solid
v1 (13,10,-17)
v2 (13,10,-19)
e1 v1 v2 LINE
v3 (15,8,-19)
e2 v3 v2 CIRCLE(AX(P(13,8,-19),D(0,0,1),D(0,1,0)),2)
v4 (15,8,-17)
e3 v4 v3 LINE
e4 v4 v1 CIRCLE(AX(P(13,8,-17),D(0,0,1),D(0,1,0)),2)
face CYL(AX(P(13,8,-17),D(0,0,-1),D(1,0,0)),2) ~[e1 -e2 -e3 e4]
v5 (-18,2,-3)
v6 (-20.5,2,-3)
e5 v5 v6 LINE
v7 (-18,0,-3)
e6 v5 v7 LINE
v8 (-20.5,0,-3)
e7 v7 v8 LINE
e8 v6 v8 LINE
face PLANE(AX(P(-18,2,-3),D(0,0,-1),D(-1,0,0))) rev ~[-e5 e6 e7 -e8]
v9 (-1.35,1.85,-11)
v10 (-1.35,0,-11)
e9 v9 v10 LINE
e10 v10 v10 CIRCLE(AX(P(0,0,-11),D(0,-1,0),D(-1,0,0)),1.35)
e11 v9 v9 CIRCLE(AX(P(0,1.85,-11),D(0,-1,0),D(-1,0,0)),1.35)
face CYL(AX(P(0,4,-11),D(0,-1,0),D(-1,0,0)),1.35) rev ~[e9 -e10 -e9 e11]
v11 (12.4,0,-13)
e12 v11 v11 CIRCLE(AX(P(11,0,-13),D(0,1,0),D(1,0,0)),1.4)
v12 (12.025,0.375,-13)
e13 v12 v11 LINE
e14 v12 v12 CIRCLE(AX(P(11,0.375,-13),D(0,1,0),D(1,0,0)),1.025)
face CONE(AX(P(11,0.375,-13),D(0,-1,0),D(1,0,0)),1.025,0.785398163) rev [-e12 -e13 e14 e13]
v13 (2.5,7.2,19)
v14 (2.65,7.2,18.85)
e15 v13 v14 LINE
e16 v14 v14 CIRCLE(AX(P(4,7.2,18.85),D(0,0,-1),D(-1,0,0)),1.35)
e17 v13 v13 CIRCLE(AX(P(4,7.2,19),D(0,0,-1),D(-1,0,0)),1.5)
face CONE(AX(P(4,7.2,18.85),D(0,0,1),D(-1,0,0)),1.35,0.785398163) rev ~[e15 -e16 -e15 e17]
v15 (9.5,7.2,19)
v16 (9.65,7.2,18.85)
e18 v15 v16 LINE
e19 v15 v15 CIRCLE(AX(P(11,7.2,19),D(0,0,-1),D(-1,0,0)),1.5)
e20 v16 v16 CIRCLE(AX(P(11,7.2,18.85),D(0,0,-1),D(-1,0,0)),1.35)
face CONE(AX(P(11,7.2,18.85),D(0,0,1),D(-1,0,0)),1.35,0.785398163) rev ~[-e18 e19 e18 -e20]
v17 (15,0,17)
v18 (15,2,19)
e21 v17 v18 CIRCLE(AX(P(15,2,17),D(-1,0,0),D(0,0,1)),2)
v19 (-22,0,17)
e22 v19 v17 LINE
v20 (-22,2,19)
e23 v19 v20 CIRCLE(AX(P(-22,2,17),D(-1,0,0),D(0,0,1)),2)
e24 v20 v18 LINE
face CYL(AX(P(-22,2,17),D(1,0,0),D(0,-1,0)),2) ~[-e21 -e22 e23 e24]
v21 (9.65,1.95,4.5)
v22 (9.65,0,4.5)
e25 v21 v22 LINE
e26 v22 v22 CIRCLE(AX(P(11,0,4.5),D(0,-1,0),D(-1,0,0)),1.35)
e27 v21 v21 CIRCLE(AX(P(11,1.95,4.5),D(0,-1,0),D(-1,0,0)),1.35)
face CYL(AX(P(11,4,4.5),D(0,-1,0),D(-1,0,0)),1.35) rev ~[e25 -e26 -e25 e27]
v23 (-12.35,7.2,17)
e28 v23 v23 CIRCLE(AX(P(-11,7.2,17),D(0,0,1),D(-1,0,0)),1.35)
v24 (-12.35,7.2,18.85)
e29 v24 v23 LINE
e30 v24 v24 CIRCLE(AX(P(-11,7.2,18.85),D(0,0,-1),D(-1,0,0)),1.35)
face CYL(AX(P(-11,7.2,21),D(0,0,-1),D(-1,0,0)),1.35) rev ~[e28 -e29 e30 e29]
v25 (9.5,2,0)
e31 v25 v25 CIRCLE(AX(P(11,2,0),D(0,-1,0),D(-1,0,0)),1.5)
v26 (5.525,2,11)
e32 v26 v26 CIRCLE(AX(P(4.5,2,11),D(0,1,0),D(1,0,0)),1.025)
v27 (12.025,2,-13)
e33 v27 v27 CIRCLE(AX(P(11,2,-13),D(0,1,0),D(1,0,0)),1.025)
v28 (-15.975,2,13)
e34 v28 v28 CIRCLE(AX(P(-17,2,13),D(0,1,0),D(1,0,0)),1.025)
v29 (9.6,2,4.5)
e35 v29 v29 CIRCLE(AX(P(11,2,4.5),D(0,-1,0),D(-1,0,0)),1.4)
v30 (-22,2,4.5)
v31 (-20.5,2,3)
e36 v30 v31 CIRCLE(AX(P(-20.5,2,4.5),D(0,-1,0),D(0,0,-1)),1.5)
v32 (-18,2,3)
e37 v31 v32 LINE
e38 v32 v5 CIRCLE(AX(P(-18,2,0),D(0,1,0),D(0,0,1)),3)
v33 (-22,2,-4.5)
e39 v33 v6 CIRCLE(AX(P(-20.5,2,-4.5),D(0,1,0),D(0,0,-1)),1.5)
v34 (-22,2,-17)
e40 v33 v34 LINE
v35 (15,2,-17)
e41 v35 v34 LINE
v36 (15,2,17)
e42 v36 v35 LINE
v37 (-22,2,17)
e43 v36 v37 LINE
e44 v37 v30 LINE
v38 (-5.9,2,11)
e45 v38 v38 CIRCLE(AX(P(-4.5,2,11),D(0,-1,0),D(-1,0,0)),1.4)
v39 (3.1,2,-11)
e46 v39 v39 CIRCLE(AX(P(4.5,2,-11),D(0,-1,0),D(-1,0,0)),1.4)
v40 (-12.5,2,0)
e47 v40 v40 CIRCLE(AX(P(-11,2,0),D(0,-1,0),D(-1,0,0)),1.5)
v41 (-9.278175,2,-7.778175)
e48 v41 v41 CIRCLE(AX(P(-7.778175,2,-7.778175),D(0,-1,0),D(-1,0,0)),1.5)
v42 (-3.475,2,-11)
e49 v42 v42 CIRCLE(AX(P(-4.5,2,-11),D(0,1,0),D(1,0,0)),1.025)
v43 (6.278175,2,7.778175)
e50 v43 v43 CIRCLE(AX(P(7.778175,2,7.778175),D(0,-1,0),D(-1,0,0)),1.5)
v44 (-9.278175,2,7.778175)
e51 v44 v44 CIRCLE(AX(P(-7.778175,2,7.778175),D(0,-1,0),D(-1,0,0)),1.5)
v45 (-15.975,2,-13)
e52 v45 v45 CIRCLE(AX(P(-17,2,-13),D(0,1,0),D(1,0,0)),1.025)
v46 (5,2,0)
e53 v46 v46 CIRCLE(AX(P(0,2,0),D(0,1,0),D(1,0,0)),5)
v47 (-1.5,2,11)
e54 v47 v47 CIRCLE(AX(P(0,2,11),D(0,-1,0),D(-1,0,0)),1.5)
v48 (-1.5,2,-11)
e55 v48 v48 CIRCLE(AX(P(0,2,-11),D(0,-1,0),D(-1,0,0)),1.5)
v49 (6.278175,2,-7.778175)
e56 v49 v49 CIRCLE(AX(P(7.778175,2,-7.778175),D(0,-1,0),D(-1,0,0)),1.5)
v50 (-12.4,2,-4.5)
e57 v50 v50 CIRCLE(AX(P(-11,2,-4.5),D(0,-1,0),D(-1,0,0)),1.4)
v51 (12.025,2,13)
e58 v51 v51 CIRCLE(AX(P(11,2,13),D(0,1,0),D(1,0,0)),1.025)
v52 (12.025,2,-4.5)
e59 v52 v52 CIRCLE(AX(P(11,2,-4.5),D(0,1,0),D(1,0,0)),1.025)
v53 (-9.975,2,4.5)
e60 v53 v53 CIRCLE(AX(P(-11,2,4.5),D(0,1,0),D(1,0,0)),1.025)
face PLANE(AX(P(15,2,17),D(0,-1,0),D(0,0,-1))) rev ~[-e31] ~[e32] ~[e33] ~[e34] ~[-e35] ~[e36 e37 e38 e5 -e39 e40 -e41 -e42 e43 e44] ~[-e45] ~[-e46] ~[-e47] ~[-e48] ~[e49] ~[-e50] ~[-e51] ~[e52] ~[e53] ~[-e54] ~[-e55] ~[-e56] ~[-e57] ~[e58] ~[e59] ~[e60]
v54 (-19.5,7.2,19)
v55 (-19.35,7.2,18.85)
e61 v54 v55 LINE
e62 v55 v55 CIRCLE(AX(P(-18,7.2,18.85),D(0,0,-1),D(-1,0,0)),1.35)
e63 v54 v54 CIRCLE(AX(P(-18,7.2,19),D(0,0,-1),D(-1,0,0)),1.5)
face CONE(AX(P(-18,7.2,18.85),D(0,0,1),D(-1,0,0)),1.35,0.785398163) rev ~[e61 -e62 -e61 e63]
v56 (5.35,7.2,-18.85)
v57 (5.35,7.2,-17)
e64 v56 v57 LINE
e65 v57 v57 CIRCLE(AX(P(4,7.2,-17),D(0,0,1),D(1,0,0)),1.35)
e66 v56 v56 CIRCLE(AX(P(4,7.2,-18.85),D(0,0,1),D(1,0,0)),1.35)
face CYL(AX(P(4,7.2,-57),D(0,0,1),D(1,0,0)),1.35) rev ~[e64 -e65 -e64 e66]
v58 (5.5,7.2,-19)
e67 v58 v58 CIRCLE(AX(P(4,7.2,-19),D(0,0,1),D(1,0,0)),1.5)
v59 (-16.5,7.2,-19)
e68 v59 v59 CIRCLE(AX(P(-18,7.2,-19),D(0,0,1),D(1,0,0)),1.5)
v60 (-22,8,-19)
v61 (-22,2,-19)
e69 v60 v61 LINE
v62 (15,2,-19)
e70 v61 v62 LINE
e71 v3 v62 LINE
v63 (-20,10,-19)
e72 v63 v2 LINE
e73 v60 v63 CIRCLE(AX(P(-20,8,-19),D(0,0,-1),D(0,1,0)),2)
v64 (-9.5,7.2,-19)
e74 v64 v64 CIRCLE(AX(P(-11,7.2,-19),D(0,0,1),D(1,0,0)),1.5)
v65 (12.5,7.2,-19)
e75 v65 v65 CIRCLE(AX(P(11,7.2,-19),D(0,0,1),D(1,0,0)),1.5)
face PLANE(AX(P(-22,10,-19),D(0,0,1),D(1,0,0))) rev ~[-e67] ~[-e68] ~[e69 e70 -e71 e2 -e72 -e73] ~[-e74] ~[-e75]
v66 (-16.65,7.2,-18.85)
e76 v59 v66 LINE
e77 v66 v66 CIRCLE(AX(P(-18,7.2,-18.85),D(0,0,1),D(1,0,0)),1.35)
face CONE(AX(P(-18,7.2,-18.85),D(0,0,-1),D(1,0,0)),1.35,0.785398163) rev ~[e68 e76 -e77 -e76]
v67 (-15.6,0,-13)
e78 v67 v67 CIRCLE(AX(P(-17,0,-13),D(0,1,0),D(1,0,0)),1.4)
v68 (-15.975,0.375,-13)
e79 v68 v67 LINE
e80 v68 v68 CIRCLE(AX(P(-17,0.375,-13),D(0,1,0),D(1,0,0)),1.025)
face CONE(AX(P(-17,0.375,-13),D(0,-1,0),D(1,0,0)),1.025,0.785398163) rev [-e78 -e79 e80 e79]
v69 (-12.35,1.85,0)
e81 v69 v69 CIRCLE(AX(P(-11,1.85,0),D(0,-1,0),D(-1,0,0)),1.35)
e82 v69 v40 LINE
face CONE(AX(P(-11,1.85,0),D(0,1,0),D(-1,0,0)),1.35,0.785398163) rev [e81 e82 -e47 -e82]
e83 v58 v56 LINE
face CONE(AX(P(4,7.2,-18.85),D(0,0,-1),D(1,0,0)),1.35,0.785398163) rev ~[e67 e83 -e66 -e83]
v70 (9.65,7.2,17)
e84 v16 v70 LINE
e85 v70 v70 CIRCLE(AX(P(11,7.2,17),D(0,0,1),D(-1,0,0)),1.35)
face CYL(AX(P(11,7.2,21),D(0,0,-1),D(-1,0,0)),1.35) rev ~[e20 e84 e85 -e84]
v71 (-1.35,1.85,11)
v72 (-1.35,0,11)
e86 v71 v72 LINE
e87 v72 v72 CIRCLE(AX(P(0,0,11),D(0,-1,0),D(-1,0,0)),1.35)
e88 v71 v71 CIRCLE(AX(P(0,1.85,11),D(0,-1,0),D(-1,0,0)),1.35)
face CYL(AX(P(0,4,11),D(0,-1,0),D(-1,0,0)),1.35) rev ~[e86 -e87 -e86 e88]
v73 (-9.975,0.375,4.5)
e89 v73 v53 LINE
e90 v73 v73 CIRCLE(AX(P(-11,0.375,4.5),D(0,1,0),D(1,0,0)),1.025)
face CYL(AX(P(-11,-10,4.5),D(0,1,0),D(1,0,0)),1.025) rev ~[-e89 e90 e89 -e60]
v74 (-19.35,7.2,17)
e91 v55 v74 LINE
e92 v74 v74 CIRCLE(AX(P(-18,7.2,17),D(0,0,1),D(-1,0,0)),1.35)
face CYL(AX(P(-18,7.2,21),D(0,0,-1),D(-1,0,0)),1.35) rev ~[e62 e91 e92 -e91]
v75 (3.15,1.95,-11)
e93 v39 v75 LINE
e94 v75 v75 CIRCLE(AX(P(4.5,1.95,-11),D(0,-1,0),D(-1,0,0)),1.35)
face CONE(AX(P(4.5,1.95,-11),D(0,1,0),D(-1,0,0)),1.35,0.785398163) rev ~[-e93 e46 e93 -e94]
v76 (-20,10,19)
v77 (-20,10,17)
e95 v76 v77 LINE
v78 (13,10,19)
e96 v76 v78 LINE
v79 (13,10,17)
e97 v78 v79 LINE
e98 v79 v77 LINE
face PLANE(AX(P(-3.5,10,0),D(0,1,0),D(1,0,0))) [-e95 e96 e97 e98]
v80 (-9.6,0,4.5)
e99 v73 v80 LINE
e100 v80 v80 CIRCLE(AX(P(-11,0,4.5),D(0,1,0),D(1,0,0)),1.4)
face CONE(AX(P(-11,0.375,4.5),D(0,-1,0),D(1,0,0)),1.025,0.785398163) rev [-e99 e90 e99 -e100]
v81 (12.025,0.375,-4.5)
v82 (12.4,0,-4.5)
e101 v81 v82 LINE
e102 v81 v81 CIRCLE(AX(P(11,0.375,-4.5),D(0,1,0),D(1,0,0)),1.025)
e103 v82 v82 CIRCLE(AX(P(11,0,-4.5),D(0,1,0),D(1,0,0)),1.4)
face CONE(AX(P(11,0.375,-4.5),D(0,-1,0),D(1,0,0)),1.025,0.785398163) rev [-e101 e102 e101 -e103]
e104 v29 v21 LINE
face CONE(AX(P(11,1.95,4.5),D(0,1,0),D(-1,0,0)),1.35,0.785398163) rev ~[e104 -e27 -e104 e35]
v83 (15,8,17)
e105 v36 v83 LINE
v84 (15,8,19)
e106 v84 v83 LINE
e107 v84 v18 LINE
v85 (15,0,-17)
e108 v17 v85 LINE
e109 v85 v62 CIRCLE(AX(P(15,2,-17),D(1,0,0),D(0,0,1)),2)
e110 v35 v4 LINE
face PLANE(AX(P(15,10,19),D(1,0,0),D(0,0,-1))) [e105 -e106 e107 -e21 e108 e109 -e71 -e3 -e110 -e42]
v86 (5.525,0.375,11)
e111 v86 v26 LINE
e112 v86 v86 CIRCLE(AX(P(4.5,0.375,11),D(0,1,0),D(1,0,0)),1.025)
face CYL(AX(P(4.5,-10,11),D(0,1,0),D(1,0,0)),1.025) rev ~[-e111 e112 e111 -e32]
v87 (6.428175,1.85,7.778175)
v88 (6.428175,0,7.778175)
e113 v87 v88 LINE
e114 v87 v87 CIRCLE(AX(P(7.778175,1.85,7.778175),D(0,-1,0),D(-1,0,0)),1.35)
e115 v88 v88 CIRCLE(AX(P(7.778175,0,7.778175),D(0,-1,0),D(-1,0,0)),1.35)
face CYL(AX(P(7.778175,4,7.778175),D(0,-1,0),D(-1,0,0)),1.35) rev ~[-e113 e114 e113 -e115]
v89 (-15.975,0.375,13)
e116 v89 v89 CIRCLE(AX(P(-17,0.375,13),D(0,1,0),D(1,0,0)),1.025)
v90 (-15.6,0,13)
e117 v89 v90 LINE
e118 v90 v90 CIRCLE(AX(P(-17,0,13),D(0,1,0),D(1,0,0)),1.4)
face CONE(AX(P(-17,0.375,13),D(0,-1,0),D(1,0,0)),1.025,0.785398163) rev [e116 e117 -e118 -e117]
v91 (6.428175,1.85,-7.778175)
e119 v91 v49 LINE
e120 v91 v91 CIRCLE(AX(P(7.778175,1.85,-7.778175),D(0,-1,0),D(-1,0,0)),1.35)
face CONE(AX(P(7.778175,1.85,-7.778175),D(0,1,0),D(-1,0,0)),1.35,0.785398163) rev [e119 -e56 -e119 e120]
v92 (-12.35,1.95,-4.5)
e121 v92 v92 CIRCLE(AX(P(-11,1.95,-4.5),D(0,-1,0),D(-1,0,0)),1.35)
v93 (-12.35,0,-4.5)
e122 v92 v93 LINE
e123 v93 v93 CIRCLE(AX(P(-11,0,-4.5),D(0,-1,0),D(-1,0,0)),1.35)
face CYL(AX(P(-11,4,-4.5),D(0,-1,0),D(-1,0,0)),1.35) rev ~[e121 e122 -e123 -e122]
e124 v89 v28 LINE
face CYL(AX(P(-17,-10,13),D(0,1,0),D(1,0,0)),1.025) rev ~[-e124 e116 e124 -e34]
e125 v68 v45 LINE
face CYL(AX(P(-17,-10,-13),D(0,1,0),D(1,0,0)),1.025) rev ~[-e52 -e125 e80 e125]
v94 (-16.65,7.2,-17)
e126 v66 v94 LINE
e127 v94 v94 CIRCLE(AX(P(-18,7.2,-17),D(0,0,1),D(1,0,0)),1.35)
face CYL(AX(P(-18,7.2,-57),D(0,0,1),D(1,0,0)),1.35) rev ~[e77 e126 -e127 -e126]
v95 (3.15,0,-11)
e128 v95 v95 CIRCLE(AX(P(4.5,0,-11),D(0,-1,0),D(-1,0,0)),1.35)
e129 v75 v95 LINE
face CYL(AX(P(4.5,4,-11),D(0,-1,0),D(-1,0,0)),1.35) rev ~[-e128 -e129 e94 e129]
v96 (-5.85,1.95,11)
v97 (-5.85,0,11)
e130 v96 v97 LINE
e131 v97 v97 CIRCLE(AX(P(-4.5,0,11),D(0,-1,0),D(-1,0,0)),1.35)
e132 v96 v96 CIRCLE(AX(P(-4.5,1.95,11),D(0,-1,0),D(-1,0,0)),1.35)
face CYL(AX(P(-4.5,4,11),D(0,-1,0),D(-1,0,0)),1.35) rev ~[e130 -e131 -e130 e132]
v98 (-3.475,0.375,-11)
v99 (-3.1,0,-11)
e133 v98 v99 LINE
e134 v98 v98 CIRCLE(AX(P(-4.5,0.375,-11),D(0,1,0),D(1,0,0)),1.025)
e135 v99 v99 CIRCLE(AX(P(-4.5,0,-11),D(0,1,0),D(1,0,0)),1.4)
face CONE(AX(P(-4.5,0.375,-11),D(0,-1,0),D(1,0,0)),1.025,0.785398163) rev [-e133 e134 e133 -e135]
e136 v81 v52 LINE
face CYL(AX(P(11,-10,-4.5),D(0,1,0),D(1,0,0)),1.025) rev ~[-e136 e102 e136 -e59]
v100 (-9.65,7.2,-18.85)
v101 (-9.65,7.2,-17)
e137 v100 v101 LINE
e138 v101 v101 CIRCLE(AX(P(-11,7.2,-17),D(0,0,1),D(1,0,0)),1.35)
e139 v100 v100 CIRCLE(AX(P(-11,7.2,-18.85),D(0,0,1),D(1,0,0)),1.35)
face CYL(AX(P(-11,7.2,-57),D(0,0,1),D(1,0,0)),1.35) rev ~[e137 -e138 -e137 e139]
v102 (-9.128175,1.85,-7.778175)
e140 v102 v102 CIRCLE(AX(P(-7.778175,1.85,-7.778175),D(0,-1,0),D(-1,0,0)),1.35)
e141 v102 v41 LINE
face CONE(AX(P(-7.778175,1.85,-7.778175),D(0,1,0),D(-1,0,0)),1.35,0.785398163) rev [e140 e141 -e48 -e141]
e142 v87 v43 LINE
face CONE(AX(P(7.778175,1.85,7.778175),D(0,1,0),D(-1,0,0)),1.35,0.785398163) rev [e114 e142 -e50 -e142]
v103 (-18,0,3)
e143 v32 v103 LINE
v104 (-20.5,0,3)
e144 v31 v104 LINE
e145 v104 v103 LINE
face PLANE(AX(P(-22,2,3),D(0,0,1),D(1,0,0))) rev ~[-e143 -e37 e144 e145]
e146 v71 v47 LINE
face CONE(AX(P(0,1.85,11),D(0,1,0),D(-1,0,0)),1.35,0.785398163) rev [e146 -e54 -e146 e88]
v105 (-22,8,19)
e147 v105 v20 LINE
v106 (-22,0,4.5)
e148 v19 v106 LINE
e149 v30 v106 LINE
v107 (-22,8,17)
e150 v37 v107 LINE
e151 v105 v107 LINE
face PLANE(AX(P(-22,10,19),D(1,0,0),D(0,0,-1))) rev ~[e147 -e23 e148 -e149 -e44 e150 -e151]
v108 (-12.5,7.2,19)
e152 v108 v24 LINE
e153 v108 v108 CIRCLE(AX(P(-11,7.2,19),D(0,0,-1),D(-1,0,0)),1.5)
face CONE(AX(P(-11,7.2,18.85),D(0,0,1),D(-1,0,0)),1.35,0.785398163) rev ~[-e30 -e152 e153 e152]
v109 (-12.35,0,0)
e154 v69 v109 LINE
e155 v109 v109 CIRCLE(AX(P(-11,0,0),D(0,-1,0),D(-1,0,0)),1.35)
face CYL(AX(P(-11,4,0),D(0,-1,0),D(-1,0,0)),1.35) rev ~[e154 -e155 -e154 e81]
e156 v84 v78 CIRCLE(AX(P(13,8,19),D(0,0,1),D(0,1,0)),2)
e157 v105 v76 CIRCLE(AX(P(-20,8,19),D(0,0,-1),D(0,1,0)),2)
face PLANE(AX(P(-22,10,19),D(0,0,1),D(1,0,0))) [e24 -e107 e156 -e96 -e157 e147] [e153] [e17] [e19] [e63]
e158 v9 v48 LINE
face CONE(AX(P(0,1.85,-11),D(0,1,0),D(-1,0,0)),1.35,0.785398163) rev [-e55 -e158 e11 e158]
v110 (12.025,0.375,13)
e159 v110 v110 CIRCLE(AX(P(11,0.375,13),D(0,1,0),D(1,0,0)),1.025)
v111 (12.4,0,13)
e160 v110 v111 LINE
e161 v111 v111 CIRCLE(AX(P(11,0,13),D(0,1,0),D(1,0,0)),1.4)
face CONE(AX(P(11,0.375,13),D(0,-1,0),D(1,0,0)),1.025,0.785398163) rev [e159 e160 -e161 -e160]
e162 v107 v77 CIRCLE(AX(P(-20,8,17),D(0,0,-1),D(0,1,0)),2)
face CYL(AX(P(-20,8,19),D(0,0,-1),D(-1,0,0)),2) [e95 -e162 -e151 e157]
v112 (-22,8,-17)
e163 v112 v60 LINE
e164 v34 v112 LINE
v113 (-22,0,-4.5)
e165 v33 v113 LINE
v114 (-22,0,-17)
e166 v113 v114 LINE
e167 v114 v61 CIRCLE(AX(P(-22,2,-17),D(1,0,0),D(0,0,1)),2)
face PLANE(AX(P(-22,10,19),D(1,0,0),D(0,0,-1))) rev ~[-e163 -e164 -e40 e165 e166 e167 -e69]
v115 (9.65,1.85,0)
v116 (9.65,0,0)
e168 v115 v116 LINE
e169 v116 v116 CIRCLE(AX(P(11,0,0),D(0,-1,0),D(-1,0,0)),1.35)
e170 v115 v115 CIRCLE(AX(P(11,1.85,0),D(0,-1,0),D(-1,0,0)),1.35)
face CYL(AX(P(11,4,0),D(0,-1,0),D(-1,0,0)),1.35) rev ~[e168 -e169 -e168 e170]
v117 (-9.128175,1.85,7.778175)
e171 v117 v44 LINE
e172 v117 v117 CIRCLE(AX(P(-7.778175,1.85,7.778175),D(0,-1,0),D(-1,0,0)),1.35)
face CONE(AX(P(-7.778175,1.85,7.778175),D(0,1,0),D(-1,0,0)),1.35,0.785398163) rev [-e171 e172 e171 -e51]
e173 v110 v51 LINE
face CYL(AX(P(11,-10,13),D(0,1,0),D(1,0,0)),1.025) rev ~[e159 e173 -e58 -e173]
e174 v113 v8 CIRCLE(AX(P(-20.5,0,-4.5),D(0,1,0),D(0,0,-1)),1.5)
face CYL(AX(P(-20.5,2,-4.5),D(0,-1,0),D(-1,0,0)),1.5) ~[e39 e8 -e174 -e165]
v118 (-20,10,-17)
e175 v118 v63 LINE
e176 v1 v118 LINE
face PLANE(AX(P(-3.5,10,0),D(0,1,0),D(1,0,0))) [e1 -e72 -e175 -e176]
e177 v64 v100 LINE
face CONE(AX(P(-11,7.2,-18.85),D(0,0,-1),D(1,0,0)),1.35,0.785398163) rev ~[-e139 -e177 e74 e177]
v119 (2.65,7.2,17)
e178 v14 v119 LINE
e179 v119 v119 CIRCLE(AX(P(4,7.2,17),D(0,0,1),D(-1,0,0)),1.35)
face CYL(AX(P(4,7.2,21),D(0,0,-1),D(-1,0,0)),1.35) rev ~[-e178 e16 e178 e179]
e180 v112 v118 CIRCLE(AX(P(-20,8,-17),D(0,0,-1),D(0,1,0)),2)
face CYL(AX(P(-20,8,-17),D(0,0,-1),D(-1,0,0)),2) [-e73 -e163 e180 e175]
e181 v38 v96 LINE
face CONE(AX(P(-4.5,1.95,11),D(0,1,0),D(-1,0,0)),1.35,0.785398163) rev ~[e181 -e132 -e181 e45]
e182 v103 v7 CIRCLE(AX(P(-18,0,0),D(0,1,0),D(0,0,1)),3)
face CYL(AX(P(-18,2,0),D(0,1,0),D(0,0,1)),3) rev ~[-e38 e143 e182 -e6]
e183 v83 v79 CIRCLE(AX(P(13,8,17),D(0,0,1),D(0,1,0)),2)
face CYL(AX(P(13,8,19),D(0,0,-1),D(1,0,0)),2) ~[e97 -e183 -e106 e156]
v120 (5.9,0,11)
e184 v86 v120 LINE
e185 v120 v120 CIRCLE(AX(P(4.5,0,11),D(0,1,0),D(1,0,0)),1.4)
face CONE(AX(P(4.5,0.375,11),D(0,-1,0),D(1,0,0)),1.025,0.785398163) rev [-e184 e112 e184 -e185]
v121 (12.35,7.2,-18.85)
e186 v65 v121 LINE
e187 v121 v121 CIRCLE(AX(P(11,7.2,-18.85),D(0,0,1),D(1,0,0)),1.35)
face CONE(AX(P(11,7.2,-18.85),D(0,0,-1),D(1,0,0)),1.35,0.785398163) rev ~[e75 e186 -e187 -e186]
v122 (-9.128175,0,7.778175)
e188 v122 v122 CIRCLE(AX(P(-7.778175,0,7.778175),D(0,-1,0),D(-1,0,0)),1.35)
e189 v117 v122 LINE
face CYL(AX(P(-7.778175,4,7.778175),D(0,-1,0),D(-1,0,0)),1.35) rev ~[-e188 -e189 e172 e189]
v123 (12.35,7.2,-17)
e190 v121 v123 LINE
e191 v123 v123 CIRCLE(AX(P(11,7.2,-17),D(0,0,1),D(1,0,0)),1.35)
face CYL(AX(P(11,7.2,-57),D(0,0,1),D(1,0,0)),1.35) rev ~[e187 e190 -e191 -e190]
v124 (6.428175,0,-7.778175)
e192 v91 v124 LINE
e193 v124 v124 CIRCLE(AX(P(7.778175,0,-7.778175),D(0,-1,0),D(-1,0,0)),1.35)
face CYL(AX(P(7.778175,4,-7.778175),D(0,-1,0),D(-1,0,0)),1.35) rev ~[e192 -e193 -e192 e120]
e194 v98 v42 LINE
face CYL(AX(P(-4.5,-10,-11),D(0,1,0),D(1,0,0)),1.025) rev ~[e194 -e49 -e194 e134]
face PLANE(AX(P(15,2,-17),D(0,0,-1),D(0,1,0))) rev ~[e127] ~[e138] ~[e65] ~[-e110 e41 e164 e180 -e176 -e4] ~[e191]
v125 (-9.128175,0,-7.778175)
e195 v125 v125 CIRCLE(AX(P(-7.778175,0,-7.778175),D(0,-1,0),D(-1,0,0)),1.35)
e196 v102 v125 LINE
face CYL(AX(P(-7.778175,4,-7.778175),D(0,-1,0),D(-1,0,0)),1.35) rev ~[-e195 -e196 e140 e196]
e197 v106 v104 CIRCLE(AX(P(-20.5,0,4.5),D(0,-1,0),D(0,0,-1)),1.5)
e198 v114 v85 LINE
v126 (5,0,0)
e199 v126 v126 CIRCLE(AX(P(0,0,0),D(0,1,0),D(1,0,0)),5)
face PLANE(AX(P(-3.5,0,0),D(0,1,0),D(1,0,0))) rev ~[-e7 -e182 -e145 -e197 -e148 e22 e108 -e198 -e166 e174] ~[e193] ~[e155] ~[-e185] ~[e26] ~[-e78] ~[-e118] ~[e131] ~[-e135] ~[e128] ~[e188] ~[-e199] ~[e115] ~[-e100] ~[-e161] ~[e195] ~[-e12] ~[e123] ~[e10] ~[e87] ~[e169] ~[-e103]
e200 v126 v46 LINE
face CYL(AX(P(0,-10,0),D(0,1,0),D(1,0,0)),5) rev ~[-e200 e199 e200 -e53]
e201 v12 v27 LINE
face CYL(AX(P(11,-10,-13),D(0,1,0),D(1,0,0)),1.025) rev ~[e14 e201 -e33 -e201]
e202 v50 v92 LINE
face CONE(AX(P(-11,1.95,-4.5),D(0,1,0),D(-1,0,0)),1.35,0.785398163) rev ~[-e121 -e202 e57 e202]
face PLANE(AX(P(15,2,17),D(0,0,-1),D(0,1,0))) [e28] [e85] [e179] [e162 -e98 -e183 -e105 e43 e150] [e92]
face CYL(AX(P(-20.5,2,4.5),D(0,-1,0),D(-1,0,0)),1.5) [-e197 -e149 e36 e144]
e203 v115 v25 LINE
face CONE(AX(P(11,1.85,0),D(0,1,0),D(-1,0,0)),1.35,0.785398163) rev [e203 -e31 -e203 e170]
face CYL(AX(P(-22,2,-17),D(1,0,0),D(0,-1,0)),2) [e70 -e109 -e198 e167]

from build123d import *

# Parameters (mm, degrees)
SKETCH1_W                        = 37
SKETCH1_H                        = 38
BOSS_EXTRUDE1_DEPTH              = 10
SKETCH2_W                        = 34
SKETCH2_H                        = 8
CUT_EXTRUDE1_DEPTH               = 38
CUT_EXTRUDE2_DEPTH               = 3
F_2_05_2_05_DIAMETER_HOLE1_D     = 2.05
F_2_05_2_05_DIAMETER_HOLE1_DEPTH = 10
F_10_0_10_DIAMETER_HOLE1_D       = 10
F_10_0_10_DIAMETER_HOLE1_DEPTH   = 10
F_2_7_2_7_DIAMETER_HOLE1_D       = 2.7
F_2_7_2_7_DIAMETER_HOLE1_DEPTH   = 2
F_2_7_2_7_DIAMETER_HOLE2_D       = 2.7
F_2_7_2_7_DIAMETER_HOLE2_DEPTH   = 2
F_2_7_2_7_DIAMETER_HOLE3_D       = 2.7
F_2_7_2_7_DIAMETER_HOLE3_DEPTH   = 38
CHAMFER1_SIZE                    = 0.15
CHAMFER2_SIZE                    = 0.05
CHAMFER3_SIZE                    = 0.375
FILLET1_R                        = 1.5
FILLET2_R                        = 2


with BuildPart() as part:
    # Sketch1 → Boss-Extrude1 (new body)
    with BuildSketch(Plane(origin=(0, 10, 0), x_dir=(1, 0, 0), z_dir=(0, 1, 0))):
        with Locations((-3.5, 0)):
            Rectangle(SKETCH1_W, SKETCH1_H)
    extrude(amount=-BOSS_EXTRUDE1_DEPTH)

    # Sketch2 → Cut-Extrude1 (cut, through all)
    with BuildSketch(Plane(origin=(15, 0, 0), x_dir=(0, 0, -1), z_dir=(1, 0, 0))):
        with Locations((0, 6)):
            Rectangle(SKETCH2_W, SKETCH2_H)
    extrude(amount=-CUT_EXTRUDE1_DEPTH, mode=Mode.SUBTRACT)

    # Sketch3 → Cut-Extrude2 (cut, through all)
    with BuildSketch(Plane(origin=(0, 2, 0), x_dir=(-1, 0, 0), z_dir=(0, 1, 0))):
        with BuildLine():
            Line((22, -3), (22, 3))
            Line((22, 3), (18, 3))
            ThreePointArc((18, 3), (15, 0), (18, -3))
            Line((18, -3), (22, -3))
        make_face()
    extrude(amount=-CUT_EXTRUDE2_DEPTH, mode=Mode.SUBTRACT)

    # Ø2.05 (2.05) Diameter Hole1
    with Locations(Plane(origin=(0, 0, 0), x_dir=(-1, 0, 0), z_dir=(0, -1, 0))):
        with Locations((-11, 13), (-11, -13), (17, 13), (17, -13), (-11, 4.5), (-4.5, -11), (11, -4.5), (4.5, 11)):
            Hole(F_2_05_2_05_DIAMETER_HOLE1_D / 2, depth=F_2_05_2_05_DIAMETER_HOLE1_DEPTH)

    # Ø10.0 (10) Diameter Hole1
    with Locations(Plane(origin=(0, 0, 0), x_dir=(-1, 0, 0), z_dir=(0, -1, 0))):
        with Locations((0, 0)):
            Hole(F_10_0_10_DIAMETER_HOLE1_D / 2, depth=F_10_0_10_DIAMETER_HOLE1_DEPTH)

    # Ø2.7 (2.7) Diameter Hole1
    with Locations(Plane(origin=(0, 2, 0), x_dir=(1, 0, 0), z_dir=(0, 1, 0))):
        with Locations((11, 0), (7.778174593, 7.778174593), (0, 11), (-7.778174593, 7.778174593), (-11, 0), (-7.778174593, -7.778174593), (0, -11), (7.778174593, -7.778174593), (4.5, 11), (11, -4.5), (-4.5, -11), (-11, 4.5)):
            Hole(F_2_7_2_7_DIAMETER_HOLE1_D / 2, depth=F_2_7_2_7_DIAMETER_HOLE1_DEPTH)

    # Ø2.7 (2.7) Diameter Hole2
    with Locations(Plane.XY.offset(19)):
        with Locations((4, 7.2), (-18, 7.2), (11, 7.2), (-11, 7.2)):
            Hole(F_2_7_2_7_DIAMETER_HOLE2_D / 2, depth=F_2_7_2_7_DIAMETER_HOLE2_DEPTH)

    # Ø2.7 (2.7) Diameter Hole3
    with Locations(Plane(origin=(0, 0, -19), x_dir=(-1, 0, 0), z_dir=(0, 0, -1))):
        with Locations((-4, 7.2), (18, 7.2), (-11, 7.2), (11, 7.2)):
            Hole(F_2_7_2_7_DIAMETER_HOLE3_D / 2, depth=F_2_7_2_7_DIAMETER_HOLE3_DEPTH)

    # Chamfer1
    chamfer1_edges = [part.edges().sort_by_distance(p)[0] for p in [
        (9.128174593, 2, 7.778174593),
        (1.35, 2, 11),
        (-6.428174593, 2, 7.778174593),
        (-9.65, 2, 0),
        (-6.428174593, 2, -7.778174593),
        (1.35, 2, -11),
        (9.128174593, 2, -7.778174593),
        (12.35, 2, 0),
        (-9.65, 7.2, 19),
        (12.35, 7.2, 19),
        (-16.65, 7.2, 19),
        (5.35, 7.2, 19),
        (-12.35, 7.2, -19),
        (9.65, 7.2, -19),
        (-19.35, 7.2, -19),
        (2.65, 7.2, -19),
    ]]
    chamfer(chamfer1_edges, length=CHAMFER1_SIZE)

    # Chamfer2
    chamfer2_edges = [part.edges().sort_by_distance(p)[0] for p in [
        (-9.65, 2, -4.5),
        (-3.15, 2, 11),
        (12.35, 2, 4.5),
        (5.85, 2, -11),
    ]]
    chamfer(chamfer2_edges, length=CHAMFER2_SIZE)

    # Chamfer3
    chamfer3_edges = [part.edges().sort_by_distance(p)[0] for p in [
        (-5.525, 0, -11),
        (-12.025, 0, 4.5),
        (3.475, 0, 11),
        (9.975, 0, -4.5),
        (-18.025, 0, 13),
        (-18.025, 0, -13),
        (9.975, 0, 13),
        (9.975, 0, -13),
    ]]
    chamfer(chamfer3_edges, length=CHAMFER3_SIZE)

    # Fillet1
    fillet1_edges = [part.edges().sort_by_distance(p)[0] for p in [
        (-22, 1, -3),
        (-22, 1, 3),
    ]]
    fillet(fillet1_edges, radius=FILLET1_R)

    # Fillet2
    fillet2_edges = [part.edges().sort_by_distance(p)[0] for p in [
        (-3.5, 0, -19),
        (-22, 10, 18),
        (15, 10, -18),
        (15, 10, 18),
        (-22, 10, -18),
        (-3.5, 0, 19),
    ]]
    fillet(fillet2_edges, radius=FILLET2_R)


solid = part.part
